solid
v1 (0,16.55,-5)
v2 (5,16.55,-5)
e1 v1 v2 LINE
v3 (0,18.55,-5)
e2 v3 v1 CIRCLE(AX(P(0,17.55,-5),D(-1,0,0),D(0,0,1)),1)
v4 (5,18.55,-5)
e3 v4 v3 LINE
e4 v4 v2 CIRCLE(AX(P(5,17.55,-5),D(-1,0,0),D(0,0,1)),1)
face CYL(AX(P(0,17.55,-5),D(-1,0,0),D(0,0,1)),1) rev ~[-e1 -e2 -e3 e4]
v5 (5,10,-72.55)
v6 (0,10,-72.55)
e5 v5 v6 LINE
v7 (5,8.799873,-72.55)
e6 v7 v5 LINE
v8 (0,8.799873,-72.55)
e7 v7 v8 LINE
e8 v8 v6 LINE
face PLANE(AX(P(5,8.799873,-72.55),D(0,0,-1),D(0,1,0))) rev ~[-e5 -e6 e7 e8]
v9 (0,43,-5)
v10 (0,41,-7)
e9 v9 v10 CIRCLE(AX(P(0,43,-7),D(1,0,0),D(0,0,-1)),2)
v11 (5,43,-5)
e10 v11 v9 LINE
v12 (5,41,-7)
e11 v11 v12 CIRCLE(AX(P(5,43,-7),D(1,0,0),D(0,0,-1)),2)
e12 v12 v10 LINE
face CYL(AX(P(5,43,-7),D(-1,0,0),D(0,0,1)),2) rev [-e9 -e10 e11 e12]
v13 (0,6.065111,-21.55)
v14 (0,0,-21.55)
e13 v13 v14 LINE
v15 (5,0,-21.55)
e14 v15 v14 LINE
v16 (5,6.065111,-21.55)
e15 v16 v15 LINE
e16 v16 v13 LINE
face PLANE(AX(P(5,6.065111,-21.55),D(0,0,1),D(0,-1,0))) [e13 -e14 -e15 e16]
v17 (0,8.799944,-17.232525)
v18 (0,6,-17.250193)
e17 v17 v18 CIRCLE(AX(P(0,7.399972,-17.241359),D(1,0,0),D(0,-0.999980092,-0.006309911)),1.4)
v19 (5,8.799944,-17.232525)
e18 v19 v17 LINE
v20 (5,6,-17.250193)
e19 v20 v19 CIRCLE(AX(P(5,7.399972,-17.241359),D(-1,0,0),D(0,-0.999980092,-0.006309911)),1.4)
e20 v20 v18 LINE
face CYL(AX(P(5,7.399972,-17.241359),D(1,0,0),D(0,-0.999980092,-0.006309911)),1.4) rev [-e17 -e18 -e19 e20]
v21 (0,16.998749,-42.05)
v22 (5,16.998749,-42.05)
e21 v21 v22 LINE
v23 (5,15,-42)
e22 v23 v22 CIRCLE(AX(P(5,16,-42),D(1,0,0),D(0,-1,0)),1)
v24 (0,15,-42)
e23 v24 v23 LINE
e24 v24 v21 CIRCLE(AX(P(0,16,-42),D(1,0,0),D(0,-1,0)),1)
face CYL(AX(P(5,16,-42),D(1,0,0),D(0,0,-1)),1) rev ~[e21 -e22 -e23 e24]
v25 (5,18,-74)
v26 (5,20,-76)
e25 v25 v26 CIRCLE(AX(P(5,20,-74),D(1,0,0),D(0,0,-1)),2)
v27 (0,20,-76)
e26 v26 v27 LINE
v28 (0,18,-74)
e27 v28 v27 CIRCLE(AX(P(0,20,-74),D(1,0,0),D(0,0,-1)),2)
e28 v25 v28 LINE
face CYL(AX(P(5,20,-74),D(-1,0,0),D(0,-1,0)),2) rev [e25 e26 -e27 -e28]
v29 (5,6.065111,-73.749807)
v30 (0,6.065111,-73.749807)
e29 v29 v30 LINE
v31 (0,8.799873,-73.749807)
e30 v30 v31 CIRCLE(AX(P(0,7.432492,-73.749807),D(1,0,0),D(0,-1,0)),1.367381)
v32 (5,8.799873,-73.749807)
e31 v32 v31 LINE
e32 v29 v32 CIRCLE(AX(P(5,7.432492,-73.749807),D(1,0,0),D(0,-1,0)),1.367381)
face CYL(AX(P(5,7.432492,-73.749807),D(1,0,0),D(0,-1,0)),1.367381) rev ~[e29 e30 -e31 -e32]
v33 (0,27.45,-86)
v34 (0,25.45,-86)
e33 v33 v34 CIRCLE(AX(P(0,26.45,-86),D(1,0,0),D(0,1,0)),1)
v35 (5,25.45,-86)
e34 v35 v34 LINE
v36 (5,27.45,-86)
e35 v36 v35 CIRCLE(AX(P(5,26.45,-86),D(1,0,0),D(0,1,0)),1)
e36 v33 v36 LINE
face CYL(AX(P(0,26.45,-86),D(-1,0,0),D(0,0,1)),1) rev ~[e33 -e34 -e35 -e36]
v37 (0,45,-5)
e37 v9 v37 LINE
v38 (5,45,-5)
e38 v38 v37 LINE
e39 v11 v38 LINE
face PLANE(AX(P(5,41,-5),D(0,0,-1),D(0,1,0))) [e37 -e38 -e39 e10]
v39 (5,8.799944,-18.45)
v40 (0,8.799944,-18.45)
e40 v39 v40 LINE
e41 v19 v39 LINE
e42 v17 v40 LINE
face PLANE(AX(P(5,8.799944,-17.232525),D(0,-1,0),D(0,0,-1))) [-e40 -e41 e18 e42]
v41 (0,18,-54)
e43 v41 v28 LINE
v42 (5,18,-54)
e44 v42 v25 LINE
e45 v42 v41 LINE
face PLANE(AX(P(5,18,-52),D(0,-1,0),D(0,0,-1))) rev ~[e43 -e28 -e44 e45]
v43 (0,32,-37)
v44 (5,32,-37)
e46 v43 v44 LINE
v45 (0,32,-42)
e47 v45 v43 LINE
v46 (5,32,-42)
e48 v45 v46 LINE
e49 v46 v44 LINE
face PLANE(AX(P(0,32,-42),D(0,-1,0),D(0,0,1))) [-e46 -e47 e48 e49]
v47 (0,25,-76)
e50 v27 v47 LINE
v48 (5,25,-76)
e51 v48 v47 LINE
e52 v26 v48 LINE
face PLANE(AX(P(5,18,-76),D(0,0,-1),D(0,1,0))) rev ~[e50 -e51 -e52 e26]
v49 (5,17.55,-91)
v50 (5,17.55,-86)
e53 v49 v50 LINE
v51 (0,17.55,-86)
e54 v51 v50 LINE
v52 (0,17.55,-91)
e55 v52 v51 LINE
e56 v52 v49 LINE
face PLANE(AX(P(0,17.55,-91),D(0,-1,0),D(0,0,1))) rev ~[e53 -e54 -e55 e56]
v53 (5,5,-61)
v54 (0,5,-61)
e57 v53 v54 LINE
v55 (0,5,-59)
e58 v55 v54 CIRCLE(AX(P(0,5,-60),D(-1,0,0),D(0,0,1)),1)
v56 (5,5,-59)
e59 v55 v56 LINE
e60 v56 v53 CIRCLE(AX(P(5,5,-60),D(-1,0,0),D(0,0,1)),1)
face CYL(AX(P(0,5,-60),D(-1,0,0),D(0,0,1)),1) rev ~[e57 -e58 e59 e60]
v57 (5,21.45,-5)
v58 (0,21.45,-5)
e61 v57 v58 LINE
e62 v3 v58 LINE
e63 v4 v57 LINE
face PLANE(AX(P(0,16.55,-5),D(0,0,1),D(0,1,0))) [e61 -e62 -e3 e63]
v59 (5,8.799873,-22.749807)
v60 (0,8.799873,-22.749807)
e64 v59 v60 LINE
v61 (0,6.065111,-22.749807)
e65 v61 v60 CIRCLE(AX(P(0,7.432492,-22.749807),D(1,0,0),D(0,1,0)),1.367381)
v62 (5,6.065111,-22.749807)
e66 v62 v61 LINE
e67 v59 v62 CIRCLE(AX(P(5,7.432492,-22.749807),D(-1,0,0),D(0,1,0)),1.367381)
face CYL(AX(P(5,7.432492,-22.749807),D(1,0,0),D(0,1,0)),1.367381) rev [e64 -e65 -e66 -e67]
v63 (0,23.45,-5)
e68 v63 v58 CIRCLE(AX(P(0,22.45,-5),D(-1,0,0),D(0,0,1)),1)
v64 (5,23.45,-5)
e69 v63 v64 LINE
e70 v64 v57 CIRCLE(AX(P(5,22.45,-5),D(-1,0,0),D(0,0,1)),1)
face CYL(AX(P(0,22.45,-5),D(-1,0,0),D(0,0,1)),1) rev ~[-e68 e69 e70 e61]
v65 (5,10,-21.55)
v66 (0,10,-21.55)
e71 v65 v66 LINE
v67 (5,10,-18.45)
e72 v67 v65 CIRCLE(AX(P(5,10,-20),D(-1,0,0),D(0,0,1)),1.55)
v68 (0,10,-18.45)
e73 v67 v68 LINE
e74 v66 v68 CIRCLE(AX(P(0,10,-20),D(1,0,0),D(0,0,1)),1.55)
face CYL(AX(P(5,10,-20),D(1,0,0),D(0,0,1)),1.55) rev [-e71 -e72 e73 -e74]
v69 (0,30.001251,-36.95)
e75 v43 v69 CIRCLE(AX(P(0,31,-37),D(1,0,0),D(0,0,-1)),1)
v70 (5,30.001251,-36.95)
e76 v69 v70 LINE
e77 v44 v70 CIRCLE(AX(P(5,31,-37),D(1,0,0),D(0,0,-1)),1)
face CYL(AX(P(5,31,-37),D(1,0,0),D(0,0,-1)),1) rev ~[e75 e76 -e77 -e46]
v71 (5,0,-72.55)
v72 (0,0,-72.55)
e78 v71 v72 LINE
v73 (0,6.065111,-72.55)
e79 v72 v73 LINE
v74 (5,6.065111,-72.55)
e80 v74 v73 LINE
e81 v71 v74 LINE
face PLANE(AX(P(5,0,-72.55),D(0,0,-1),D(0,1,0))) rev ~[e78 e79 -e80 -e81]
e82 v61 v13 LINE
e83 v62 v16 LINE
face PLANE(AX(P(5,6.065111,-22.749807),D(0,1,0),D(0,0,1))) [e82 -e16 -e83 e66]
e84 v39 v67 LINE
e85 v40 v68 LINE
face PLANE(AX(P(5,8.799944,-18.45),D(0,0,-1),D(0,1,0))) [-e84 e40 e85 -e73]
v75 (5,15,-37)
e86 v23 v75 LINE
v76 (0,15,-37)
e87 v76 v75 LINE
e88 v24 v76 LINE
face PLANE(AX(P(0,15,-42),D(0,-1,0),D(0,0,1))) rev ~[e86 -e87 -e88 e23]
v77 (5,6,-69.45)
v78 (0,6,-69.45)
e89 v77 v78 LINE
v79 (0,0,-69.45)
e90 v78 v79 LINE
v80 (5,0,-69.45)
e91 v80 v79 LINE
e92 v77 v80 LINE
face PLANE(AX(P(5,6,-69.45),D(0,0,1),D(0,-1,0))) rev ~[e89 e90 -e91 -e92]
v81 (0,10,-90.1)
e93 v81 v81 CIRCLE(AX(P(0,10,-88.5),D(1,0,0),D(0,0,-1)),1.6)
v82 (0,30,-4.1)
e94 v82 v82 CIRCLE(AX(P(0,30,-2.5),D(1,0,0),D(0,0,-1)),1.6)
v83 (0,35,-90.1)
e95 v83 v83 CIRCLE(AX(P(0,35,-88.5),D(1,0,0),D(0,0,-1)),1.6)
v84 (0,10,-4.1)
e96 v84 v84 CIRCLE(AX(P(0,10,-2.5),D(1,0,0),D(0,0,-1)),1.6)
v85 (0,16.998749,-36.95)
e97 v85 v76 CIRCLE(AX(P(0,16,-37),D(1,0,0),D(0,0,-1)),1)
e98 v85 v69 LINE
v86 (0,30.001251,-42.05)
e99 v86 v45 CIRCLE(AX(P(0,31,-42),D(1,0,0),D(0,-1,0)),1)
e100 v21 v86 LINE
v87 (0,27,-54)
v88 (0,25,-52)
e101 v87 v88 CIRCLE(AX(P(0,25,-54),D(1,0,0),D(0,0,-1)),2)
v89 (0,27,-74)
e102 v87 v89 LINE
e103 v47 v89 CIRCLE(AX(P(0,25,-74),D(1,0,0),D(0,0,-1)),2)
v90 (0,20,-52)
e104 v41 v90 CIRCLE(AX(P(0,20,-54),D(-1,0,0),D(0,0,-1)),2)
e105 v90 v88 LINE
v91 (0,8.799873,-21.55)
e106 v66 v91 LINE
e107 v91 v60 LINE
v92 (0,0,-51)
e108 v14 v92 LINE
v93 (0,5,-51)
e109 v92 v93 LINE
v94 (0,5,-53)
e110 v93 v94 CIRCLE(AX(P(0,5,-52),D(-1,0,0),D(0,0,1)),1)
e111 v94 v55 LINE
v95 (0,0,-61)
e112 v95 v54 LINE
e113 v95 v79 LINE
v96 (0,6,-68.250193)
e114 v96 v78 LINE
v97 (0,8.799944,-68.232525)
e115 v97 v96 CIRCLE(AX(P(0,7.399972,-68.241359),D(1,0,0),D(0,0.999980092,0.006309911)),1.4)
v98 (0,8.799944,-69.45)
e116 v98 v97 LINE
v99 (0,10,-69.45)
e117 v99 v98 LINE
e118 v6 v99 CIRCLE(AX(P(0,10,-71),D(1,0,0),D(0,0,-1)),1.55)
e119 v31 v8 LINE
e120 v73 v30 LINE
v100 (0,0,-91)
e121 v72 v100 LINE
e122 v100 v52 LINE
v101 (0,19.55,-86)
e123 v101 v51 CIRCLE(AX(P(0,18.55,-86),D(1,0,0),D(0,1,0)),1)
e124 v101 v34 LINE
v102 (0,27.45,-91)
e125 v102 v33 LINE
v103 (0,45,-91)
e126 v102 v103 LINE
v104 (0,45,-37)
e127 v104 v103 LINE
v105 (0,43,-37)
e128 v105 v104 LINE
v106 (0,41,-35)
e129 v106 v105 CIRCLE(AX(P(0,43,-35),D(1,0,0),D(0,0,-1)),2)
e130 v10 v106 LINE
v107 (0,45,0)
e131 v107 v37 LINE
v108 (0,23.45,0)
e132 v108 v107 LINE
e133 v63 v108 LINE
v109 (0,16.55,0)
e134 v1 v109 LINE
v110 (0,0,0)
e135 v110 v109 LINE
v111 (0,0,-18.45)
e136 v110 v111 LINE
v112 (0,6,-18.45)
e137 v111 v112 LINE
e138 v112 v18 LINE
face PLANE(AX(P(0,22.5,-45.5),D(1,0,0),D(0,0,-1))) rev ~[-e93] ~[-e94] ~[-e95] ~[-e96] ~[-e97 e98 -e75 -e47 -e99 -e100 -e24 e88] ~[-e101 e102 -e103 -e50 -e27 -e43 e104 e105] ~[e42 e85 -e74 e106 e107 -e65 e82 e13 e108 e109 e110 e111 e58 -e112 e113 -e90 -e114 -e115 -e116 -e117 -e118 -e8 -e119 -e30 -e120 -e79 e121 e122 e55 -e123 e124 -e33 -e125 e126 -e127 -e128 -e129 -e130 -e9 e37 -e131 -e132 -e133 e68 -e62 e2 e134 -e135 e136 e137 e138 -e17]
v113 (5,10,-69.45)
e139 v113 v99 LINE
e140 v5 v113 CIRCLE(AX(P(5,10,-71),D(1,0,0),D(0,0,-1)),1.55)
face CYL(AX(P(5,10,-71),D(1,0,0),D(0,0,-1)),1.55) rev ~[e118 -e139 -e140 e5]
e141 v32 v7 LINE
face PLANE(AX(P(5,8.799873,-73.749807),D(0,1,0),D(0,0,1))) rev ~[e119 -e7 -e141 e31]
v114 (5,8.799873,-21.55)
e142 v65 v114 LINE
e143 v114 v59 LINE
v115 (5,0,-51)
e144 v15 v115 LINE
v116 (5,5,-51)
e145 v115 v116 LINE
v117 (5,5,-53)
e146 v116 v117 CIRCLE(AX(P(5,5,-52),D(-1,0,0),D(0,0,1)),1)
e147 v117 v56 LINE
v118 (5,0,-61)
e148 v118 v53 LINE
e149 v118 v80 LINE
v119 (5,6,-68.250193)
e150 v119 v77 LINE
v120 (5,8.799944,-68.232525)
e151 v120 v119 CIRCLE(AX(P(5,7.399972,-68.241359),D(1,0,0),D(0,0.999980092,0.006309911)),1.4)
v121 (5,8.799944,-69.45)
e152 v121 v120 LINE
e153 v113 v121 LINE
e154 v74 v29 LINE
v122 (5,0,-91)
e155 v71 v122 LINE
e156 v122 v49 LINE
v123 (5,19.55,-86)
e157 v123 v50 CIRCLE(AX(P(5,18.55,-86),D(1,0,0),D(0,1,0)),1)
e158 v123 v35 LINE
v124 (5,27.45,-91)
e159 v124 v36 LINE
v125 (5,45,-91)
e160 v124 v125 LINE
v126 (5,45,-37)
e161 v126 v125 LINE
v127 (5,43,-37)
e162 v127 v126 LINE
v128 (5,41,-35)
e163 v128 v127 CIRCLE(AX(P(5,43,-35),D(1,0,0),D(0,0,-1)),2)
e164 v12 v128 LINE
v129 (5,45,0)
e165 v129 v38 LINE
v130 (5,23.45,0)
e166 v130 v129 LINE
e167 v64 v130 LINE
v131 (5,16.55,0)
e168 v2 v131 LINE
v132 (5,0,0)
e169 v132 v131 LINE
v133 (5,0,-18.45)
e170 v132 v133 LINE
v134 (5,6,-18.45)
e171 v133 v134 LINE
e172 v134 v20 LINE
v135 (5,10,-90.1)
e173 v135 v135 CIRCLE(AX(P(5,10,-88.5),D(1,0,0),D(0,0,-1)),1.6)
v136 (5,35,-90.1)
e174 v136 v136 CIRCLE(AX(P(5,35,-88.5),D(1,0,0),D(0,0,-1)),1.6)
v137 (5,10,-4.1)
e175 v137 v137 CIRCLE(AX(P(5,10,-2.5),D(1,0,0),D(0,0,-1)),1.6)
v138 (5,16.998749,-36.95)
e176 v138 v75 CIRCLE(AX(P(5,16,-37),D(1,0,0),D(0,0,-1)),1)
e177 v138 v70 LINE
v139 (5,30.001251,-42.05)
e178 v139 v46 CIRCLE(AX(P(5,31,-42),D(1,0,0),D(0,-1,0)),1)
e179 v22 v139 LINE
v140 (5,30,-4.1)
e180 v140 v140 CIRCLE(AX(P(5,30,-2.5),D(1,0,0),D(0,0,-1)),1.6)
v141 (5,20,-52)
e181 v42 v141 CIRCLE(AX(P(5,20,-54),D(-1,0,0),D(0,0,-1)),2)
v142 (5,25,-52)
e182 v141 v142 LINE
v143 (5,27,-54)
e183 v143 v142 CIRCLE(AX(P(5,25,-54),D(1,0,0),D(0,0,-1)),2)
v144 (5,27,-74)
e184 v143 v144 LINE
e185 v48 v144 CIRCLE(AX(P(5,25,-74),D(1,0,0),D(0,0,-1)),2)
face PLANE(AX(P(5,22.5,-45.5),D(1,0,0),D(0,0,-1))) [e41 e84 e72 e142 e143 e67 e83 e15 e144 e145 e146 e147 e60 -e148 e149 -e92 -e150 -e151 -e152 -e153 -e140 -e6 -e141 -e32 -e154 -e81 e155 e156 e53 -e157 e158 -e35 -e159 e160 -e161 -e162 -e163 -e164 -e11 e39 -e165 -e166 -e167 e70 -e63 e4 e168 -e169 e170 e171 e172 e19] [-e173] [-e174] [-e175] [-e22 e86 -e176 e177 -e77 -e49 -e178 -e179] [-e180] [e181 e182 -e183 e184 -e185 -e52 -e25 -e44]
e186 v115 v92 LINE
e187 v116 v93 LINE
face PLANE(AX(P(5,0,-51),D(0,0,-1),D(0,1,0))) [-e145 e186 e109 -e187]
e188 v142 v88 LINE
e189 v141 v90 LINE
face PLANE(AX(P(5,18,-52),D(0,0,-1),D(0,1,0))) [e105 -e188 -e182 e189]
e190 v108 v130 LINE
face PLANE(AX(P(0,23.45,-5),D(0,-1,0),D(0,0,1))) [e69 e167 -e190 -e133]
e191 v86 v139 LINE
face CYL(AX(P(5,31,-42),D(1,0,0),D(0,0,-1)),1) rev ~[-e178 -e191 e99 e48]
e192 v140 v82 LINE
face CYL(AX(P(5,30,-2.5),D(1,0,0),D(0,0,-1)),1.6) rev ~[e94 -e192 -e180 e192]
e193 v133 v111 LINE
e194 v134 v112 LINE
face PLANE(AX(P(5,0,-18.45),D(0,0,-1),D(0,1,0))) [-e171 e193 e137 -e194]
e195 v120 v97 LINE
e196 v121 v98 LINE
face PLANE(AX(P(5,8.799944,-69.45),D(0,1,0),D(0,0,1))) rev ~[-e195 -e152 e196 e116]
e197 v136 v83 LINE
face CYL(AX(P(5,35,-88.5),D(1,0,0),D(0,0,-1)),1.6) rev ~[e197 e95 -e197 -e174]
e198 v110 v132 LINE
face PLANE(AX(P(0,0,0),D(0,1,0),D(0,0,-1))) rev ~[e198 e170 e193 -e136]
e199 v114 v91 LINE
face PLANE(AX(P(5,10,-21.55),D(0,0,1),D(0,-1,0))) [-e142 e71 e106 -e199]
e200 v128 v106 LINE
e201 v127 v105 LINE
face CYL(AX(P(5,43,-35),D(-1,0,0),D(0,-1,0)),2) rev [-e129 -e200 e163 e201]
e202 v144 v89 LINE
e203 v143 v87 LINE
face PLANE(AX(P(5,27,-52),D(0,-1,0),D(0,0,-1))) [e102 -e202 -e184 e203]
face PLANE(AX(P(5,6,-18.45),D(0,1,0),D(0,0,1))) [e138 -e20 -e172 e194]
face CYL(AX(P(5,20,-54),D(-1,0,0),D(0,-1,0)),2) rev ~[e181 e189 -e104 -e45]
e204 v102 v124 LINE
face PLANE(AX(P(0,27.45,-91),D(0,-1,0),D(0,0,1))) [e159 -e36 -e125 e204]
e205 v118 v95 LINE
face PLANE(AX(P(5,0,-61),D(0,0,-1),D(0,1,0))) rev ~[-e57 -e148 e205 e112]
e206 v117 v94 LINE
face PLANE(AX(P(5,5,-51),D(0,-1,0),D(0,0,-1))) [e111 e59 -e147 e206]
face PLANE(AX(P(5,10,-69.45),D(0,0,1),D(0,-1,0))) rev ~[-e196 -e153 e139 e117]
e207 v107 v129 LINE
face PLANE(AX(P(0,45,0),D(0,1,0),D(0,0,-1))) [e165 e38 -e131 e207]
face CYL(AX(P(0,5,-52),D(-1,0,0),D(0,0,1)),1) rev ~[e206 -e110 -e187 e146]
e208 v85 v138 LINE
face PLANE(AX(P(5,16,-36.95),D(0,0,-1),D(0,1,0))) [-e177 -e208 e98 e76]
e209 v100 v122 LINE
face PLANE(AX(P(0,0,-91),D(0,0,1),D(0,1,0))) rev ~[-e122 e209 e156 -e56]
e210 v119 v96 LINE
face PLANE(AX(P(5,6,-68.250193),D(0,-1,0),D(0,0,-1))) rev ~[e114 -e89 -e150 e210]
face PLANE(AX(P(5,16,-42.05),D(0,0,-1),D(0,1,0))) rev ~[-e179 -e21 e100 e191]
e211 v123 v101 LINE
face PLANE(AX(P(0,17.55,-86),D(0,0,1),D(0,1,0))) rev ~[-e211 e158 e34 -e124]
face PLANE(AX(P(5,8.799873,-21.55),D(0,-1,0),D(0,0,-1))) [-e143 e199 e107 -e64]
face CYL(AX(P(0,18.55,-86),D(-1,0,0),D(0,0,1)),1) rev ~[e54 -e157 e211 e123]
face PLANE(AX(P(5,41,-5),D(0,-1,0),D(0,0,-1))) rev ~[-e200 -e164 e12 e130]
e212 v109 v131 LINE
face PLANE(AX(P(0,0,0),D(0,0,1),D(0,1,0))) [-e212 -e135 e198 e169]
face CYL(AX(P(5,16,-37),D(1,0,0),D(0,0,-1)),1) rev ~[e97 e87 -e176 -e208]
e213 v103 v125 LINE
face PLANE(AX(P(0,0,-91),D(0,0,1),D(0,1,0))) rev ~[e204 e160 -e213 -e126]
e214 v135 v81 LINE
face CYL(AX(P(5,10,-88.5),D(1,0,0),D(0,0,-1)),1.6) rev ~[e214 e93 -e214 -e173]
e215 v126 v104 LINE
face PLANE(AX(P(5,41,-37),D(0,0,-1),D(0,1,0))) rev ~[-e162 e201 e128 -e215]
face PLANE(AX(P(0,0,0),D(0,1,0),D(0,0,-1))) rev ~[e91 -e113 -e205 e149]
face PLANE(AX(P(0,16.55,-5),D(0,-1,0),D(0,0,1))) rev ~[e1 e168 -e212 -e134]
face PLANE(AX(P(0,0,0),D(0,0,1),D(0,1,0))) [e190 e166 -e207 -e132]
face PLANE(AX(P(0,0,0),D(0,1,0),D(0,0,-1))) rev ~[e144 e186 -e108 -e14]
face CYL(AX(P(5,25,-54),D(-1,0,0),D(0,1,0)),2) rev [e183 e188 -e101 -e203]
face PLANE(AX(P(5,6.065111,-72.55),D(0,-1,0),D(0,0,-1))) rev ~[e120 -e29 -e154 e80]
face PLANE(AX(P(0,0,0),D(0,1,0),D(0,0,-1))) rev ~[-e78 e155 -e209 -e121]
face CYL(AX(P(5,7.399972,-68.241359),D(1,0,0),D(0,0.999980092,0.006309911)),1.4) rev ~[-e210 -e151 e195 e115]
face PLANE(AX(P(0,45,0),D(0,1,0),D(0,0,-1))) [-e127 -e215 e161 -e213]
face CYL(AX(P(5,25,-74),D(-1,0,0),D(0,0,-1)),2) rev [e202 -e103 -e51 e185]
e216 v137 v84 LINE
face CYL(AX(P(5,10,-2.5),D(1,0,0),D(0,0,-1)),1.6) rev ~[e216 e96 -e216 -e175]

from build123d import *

# Parameters (mm, degrees)
SKETCH_1_W           = 91
SKETCH_1_H           = 45
EXTRUDE_1_DEPTH      = 5
SKETCH_7_W           = 24
SKETCH_7_H           = 9
CUT_EXTRUDE_3_DEPTH  = 10
FILLET_1_R           = 2
SKETCH_8_W           = 32
SKETCH_8_H           = 4
CUT_EXTRUDE_4_DEPTH  = 10
FILLET_2_R           = 2
SKETCH_9_W           = 5
SKETCH_9_H           = 17
CUT_EXTRUDE_5_DEPTH  = 5
SKETCH_14_R          = 1.55
SKETCH_14_R_2        = 1.482519405
CUT_EXTRUDE_9_DEPTH  = 10
SKETCH_10_R          = 1
CUT_EXTRUDE_6_DEPTH  = 10
SKETCH_12_R          = 1.6
CUT_EXTRUDE_7_DEPTH  = 10
CUT_EXTRUDE_8_DEPTH  = 10
SKETCH_15_W          = 10
SKETCH_15_H          = 5
CUT_EXTRUDE_10_DEPTH = 10
SKETCH_19_W          = 5
SKETCH_19_H          = 6.9
SKETCH_19_H_2        = 9.9
CUT_EXTRUDE_14_DEPTH = 5
SKETCH_16_R          = 1
CUT_EXTRUDE_11_DEPTH = 10
SKETCH_20_W          = 5.1
SKETCH_20_H          = 15.197667804
CUT_EXTRUDE_15_DEPTH = 10


with BuildPart() as part:
    # 스케치1 → 보스-돌출1 (new body)
    with BuildSketch(Plane(origin=(0, 0, 0), x_dir=(0, 0, -1), z_dir=(1, 0, 0))):
        with Locations((45.5, 22.5)):
            Rectangle(SKETCH_1_W, SKETCH_1_H)
    extrude(amount=EXTRUDE_1_DEPTH)

    # 스케치7 → 컷-돌출3 (cut)
    with BuildSketch(Plane(origin=(5, 0, 0), x_dir=(0, 0, -1), z_dir=(1, 0, 0))):
        with Locations((64, 22.5)):
            Rectangle(SKETCH_7_W, SKETCH_7_H)
    extrude(amount=-CUT_EXTRUDE_3_DEPTH, mode=Mode.SUBTRACT)

    # 필렛1
    fillet_1_edges = [part.edges().sort_by_distance(p)[0] for p in [
        (2.5, 18, -52),
        (2.5, 27, -52),
        (2.5, 27, -76),
        (2.5, 18, -76),
    ]]
    fillet(fillet_1_edges, radius=FILLET_1_R)

    # 스케치8 → 컷-돌출4 (cut)
    with BuildSketch(Plane(origin=(5, 0, 0), x_dir=(0, 0, -1), z_dir=(1, 0, 0))):
        with Locations((21, 43)):
            Rectangle(SKETCH_8_W, SKETCH_8_H)
    extrude(amount=-CUT_EXTRUDE_4_DEPTH, mode=Mode.SUBTRACT)

    # 필렛2
    fillet_2_edges = [part.edges().sort_by_distance(p)[0] for p in [
        (2.5, 41, -5),
        (2.5, 41, -37),
    ]]
    fillet(fillet_2_edges, radius=FILLET_2_R)

    # 스케치9 → 컷-돌출5 (cut)
    with BuildSketch(Plane.ZY):
        with Locations((-39.5, 23.5)):
            Rectangle(SKETCH_9_W, SKETCH_9_H)
    extrude(amount=-CUT_EXTRUDE_5_DEPTH, mode=Mode.SUBTRACT)

    # 스케치14 → 컷-돌출9 (cut)
    with BuildSketch(Plane(origin=(5, 0, 0), x_dir=(0, 0, -1), z_dir=(1, 0, 0))):
        with Locations((2.5, 10)):
            Circle(SKETCH_14_R)
        with Locations((2.5, 30)):
            Circle(SKETCH_14_R)
        with Locations((88.5, 35.067480595)):
            Circle(SKETCH_14_R_2)
        with Locations((88.5, 10)):
            Circle(SKETCH_14_R)
    extrude(amount=-CUT_EXTRUDE_9_DEPTH, mode=Mode.SUBTRACT)

    # 스케치10 → 컷-돌출6 (cut)
    with BuildSketch(Plane(origin=(5, 0, 0), x_dir=(0, 0, -1), z_dir=(1, 0, 0))):
        with Locations((42, 31)):
            Circle(SKETCH_10_R)
        with Locations((42, 16)):
            Circle(SKETCH_10_R)
        with Locations((37, 16)):
            Circle(SKETCH_10_R)
        with Locations((37, 31)):
            Circle(SKETCH_10_R)
    extrude(amount=-CUT_EXTRUDE_6_DEPTH, mode=Mode.SUBTRACT)

    # 스케치12 → 컷-돌출7 (cut)
    with BuildSketch(Plane(origin=(5, 0, 0), x_dir=(0, 0, -1), z_dir=(1, 0, 0))):
        with Locations((2.5, 30)):
            Circle(SKETCH_12_R)
        with Locations((2.5, 10)):
            Circle(SKETCH_12_R)
        with Locations((88.5, 35)):
            Circle(SKETCH_12_R)
        with Locations((88.5, 10)):
            Circle(SKETCH_12_R)
    extrude(amount=-CUT_EXTRUDE_7_DEPTH, mode=Mode.SUBTRACT)

    # 스케치13 → 컷-돌출8 (cut)
    with BuildSketch(Plane(origin=(5, 0, 0), x_dir=(0, 0, -1), z_dir=(1, 0, 0))):
        with BuildLine():
            Line((18.45, 0), (18.45, 6))
            Line((18.45, 6), (17.250192706, 6))
            ThreePointArc((17.250192706, 6), (15.841386702, 7.391138254), (17.232524956, 8.799944258))
            Line((17.232524956, 8.799944258), (18.45, 8.799944258))
            Line((18.45, 8.799944258), (18.45, 10))
            ThreePointArc((18.45, 10), (20, 11.55), (21.55, 10))
            Line((21.55, 10), (21.55, 8.799872773))
            Line((21.55, 8.799872773), (22.749807294, 8.799872773))
            ThreePointArc((22.749807294, 8.799872773), (24.117188413, 7.432491654), (22.749807294, 6.065110535))
            Line((22.749807294, 6.065110535), (21.55, 6.065110535))
            Line((21.55, 6.065110535), (21.55, 0))
            Line((21.55, 0), (18.45, 0))
        make_face()
        with BuildLine():
            Line((72.55, 0), (72.55, 6.065110535))
            Line((72.55, 6.065110535), (73.749807294, 6.065110535))
            ThreePointArc((73.749807294, 6.065110535), (75.117188413, 7.432491654), (73.749807294, 8.799872773))
            Line((73.749807294, 8.799872773), (72.55, 8.799872773))
            Line((72.55, 8.799872773), (72.55, 10))
            ThreePointArc((72.55, 10), (71, 11.55), (69.45, 10))
            Line((69.45, 10), (69.45, 8.799944258))
            Line((69.45, 8.799944258), (68.232524956, 8.799944258))
            ThreePointArc((68.232524956, 8.799944258), (66.841386702, 7.391138254), (68.250192706, 6))
            Line((68.250192706, 6), (69.45, 6))
            Line((69.45, 6), (69.45, 0))
            Line((69.45, 0), (72.55, 0))
        make_face()
    extrude(amount=-CUT_EXTRUDE_8_DEPTH, mode=Mode.SUBTRACT)

    # 스케치15 → 컷-돌출10 (cut)
    with BuildSketch(Plane(origin=(5, 0, 0), x_dir=(0, 0, -1), z_dir=(1, 0, 0))):
        with Locations((56, 2.5)):
            Rectangle(SKETCH_15_W, SKETCH_15_H)
    extrude(amount=-CUT_EXTRUDE_10_DEPTH, mode=Mode.SUBTRACT)

    # 스케치19 → 컷-돌출14 (cut)
    with BuildSketch(Plane.ZY):
        with Locations((-2.5, 20)):
            Rectangle(SKETCH_19_W, SKETCH_19_H)
        with Locations((-88.5, 22.5)):
            Rectangle(SKETCH_19_W, SKETCH_19_H_2)
    extrude(amount=-CUT_EXTRUDE_14_DEPTH, mode=Mode.SUBTRACT)

    # 스케치16 → 컷-돌출11 (cut)
    with BuildSketch(Plane.ZY):
        with Locations((-60, 5)):
            Circle(SKETCH_16_R)
        with Locations((-52, 5)):
            Circle(SKETCH_16_R)
        with Locations((-86, 26.45)):
            Circle(SKETCH_16_R)
        with Locations((-86, 18.55)):
            Circle(SKETCH_16_R)
        with Locations((-5, 22.45)):
            Circle(SKETCH_16_R)
        with Locations((-5, 17.55)):
            Circle(SKETCH_16_R)
    extrude(amount=-CUT_EXTRUDE_11_DEPTH, mode=Mode.SUBTRACT)

    # 스케치20 → 컷-돌출15 (cut)
    with BuildSketch(Plane(origin=(5, 0, 0), x_dir=(0, 0, -1), z_dir=(1, 0, 0))):
        with Locations((39.5, 23.598833902)):
            Rectangle(SKETCH_20_W, SKETCH_20_H)
    extrude(amount=-CUT_EXTRUDE_15_DEPTH, mode=Mode.SUBTRACT)


solid = part.part
